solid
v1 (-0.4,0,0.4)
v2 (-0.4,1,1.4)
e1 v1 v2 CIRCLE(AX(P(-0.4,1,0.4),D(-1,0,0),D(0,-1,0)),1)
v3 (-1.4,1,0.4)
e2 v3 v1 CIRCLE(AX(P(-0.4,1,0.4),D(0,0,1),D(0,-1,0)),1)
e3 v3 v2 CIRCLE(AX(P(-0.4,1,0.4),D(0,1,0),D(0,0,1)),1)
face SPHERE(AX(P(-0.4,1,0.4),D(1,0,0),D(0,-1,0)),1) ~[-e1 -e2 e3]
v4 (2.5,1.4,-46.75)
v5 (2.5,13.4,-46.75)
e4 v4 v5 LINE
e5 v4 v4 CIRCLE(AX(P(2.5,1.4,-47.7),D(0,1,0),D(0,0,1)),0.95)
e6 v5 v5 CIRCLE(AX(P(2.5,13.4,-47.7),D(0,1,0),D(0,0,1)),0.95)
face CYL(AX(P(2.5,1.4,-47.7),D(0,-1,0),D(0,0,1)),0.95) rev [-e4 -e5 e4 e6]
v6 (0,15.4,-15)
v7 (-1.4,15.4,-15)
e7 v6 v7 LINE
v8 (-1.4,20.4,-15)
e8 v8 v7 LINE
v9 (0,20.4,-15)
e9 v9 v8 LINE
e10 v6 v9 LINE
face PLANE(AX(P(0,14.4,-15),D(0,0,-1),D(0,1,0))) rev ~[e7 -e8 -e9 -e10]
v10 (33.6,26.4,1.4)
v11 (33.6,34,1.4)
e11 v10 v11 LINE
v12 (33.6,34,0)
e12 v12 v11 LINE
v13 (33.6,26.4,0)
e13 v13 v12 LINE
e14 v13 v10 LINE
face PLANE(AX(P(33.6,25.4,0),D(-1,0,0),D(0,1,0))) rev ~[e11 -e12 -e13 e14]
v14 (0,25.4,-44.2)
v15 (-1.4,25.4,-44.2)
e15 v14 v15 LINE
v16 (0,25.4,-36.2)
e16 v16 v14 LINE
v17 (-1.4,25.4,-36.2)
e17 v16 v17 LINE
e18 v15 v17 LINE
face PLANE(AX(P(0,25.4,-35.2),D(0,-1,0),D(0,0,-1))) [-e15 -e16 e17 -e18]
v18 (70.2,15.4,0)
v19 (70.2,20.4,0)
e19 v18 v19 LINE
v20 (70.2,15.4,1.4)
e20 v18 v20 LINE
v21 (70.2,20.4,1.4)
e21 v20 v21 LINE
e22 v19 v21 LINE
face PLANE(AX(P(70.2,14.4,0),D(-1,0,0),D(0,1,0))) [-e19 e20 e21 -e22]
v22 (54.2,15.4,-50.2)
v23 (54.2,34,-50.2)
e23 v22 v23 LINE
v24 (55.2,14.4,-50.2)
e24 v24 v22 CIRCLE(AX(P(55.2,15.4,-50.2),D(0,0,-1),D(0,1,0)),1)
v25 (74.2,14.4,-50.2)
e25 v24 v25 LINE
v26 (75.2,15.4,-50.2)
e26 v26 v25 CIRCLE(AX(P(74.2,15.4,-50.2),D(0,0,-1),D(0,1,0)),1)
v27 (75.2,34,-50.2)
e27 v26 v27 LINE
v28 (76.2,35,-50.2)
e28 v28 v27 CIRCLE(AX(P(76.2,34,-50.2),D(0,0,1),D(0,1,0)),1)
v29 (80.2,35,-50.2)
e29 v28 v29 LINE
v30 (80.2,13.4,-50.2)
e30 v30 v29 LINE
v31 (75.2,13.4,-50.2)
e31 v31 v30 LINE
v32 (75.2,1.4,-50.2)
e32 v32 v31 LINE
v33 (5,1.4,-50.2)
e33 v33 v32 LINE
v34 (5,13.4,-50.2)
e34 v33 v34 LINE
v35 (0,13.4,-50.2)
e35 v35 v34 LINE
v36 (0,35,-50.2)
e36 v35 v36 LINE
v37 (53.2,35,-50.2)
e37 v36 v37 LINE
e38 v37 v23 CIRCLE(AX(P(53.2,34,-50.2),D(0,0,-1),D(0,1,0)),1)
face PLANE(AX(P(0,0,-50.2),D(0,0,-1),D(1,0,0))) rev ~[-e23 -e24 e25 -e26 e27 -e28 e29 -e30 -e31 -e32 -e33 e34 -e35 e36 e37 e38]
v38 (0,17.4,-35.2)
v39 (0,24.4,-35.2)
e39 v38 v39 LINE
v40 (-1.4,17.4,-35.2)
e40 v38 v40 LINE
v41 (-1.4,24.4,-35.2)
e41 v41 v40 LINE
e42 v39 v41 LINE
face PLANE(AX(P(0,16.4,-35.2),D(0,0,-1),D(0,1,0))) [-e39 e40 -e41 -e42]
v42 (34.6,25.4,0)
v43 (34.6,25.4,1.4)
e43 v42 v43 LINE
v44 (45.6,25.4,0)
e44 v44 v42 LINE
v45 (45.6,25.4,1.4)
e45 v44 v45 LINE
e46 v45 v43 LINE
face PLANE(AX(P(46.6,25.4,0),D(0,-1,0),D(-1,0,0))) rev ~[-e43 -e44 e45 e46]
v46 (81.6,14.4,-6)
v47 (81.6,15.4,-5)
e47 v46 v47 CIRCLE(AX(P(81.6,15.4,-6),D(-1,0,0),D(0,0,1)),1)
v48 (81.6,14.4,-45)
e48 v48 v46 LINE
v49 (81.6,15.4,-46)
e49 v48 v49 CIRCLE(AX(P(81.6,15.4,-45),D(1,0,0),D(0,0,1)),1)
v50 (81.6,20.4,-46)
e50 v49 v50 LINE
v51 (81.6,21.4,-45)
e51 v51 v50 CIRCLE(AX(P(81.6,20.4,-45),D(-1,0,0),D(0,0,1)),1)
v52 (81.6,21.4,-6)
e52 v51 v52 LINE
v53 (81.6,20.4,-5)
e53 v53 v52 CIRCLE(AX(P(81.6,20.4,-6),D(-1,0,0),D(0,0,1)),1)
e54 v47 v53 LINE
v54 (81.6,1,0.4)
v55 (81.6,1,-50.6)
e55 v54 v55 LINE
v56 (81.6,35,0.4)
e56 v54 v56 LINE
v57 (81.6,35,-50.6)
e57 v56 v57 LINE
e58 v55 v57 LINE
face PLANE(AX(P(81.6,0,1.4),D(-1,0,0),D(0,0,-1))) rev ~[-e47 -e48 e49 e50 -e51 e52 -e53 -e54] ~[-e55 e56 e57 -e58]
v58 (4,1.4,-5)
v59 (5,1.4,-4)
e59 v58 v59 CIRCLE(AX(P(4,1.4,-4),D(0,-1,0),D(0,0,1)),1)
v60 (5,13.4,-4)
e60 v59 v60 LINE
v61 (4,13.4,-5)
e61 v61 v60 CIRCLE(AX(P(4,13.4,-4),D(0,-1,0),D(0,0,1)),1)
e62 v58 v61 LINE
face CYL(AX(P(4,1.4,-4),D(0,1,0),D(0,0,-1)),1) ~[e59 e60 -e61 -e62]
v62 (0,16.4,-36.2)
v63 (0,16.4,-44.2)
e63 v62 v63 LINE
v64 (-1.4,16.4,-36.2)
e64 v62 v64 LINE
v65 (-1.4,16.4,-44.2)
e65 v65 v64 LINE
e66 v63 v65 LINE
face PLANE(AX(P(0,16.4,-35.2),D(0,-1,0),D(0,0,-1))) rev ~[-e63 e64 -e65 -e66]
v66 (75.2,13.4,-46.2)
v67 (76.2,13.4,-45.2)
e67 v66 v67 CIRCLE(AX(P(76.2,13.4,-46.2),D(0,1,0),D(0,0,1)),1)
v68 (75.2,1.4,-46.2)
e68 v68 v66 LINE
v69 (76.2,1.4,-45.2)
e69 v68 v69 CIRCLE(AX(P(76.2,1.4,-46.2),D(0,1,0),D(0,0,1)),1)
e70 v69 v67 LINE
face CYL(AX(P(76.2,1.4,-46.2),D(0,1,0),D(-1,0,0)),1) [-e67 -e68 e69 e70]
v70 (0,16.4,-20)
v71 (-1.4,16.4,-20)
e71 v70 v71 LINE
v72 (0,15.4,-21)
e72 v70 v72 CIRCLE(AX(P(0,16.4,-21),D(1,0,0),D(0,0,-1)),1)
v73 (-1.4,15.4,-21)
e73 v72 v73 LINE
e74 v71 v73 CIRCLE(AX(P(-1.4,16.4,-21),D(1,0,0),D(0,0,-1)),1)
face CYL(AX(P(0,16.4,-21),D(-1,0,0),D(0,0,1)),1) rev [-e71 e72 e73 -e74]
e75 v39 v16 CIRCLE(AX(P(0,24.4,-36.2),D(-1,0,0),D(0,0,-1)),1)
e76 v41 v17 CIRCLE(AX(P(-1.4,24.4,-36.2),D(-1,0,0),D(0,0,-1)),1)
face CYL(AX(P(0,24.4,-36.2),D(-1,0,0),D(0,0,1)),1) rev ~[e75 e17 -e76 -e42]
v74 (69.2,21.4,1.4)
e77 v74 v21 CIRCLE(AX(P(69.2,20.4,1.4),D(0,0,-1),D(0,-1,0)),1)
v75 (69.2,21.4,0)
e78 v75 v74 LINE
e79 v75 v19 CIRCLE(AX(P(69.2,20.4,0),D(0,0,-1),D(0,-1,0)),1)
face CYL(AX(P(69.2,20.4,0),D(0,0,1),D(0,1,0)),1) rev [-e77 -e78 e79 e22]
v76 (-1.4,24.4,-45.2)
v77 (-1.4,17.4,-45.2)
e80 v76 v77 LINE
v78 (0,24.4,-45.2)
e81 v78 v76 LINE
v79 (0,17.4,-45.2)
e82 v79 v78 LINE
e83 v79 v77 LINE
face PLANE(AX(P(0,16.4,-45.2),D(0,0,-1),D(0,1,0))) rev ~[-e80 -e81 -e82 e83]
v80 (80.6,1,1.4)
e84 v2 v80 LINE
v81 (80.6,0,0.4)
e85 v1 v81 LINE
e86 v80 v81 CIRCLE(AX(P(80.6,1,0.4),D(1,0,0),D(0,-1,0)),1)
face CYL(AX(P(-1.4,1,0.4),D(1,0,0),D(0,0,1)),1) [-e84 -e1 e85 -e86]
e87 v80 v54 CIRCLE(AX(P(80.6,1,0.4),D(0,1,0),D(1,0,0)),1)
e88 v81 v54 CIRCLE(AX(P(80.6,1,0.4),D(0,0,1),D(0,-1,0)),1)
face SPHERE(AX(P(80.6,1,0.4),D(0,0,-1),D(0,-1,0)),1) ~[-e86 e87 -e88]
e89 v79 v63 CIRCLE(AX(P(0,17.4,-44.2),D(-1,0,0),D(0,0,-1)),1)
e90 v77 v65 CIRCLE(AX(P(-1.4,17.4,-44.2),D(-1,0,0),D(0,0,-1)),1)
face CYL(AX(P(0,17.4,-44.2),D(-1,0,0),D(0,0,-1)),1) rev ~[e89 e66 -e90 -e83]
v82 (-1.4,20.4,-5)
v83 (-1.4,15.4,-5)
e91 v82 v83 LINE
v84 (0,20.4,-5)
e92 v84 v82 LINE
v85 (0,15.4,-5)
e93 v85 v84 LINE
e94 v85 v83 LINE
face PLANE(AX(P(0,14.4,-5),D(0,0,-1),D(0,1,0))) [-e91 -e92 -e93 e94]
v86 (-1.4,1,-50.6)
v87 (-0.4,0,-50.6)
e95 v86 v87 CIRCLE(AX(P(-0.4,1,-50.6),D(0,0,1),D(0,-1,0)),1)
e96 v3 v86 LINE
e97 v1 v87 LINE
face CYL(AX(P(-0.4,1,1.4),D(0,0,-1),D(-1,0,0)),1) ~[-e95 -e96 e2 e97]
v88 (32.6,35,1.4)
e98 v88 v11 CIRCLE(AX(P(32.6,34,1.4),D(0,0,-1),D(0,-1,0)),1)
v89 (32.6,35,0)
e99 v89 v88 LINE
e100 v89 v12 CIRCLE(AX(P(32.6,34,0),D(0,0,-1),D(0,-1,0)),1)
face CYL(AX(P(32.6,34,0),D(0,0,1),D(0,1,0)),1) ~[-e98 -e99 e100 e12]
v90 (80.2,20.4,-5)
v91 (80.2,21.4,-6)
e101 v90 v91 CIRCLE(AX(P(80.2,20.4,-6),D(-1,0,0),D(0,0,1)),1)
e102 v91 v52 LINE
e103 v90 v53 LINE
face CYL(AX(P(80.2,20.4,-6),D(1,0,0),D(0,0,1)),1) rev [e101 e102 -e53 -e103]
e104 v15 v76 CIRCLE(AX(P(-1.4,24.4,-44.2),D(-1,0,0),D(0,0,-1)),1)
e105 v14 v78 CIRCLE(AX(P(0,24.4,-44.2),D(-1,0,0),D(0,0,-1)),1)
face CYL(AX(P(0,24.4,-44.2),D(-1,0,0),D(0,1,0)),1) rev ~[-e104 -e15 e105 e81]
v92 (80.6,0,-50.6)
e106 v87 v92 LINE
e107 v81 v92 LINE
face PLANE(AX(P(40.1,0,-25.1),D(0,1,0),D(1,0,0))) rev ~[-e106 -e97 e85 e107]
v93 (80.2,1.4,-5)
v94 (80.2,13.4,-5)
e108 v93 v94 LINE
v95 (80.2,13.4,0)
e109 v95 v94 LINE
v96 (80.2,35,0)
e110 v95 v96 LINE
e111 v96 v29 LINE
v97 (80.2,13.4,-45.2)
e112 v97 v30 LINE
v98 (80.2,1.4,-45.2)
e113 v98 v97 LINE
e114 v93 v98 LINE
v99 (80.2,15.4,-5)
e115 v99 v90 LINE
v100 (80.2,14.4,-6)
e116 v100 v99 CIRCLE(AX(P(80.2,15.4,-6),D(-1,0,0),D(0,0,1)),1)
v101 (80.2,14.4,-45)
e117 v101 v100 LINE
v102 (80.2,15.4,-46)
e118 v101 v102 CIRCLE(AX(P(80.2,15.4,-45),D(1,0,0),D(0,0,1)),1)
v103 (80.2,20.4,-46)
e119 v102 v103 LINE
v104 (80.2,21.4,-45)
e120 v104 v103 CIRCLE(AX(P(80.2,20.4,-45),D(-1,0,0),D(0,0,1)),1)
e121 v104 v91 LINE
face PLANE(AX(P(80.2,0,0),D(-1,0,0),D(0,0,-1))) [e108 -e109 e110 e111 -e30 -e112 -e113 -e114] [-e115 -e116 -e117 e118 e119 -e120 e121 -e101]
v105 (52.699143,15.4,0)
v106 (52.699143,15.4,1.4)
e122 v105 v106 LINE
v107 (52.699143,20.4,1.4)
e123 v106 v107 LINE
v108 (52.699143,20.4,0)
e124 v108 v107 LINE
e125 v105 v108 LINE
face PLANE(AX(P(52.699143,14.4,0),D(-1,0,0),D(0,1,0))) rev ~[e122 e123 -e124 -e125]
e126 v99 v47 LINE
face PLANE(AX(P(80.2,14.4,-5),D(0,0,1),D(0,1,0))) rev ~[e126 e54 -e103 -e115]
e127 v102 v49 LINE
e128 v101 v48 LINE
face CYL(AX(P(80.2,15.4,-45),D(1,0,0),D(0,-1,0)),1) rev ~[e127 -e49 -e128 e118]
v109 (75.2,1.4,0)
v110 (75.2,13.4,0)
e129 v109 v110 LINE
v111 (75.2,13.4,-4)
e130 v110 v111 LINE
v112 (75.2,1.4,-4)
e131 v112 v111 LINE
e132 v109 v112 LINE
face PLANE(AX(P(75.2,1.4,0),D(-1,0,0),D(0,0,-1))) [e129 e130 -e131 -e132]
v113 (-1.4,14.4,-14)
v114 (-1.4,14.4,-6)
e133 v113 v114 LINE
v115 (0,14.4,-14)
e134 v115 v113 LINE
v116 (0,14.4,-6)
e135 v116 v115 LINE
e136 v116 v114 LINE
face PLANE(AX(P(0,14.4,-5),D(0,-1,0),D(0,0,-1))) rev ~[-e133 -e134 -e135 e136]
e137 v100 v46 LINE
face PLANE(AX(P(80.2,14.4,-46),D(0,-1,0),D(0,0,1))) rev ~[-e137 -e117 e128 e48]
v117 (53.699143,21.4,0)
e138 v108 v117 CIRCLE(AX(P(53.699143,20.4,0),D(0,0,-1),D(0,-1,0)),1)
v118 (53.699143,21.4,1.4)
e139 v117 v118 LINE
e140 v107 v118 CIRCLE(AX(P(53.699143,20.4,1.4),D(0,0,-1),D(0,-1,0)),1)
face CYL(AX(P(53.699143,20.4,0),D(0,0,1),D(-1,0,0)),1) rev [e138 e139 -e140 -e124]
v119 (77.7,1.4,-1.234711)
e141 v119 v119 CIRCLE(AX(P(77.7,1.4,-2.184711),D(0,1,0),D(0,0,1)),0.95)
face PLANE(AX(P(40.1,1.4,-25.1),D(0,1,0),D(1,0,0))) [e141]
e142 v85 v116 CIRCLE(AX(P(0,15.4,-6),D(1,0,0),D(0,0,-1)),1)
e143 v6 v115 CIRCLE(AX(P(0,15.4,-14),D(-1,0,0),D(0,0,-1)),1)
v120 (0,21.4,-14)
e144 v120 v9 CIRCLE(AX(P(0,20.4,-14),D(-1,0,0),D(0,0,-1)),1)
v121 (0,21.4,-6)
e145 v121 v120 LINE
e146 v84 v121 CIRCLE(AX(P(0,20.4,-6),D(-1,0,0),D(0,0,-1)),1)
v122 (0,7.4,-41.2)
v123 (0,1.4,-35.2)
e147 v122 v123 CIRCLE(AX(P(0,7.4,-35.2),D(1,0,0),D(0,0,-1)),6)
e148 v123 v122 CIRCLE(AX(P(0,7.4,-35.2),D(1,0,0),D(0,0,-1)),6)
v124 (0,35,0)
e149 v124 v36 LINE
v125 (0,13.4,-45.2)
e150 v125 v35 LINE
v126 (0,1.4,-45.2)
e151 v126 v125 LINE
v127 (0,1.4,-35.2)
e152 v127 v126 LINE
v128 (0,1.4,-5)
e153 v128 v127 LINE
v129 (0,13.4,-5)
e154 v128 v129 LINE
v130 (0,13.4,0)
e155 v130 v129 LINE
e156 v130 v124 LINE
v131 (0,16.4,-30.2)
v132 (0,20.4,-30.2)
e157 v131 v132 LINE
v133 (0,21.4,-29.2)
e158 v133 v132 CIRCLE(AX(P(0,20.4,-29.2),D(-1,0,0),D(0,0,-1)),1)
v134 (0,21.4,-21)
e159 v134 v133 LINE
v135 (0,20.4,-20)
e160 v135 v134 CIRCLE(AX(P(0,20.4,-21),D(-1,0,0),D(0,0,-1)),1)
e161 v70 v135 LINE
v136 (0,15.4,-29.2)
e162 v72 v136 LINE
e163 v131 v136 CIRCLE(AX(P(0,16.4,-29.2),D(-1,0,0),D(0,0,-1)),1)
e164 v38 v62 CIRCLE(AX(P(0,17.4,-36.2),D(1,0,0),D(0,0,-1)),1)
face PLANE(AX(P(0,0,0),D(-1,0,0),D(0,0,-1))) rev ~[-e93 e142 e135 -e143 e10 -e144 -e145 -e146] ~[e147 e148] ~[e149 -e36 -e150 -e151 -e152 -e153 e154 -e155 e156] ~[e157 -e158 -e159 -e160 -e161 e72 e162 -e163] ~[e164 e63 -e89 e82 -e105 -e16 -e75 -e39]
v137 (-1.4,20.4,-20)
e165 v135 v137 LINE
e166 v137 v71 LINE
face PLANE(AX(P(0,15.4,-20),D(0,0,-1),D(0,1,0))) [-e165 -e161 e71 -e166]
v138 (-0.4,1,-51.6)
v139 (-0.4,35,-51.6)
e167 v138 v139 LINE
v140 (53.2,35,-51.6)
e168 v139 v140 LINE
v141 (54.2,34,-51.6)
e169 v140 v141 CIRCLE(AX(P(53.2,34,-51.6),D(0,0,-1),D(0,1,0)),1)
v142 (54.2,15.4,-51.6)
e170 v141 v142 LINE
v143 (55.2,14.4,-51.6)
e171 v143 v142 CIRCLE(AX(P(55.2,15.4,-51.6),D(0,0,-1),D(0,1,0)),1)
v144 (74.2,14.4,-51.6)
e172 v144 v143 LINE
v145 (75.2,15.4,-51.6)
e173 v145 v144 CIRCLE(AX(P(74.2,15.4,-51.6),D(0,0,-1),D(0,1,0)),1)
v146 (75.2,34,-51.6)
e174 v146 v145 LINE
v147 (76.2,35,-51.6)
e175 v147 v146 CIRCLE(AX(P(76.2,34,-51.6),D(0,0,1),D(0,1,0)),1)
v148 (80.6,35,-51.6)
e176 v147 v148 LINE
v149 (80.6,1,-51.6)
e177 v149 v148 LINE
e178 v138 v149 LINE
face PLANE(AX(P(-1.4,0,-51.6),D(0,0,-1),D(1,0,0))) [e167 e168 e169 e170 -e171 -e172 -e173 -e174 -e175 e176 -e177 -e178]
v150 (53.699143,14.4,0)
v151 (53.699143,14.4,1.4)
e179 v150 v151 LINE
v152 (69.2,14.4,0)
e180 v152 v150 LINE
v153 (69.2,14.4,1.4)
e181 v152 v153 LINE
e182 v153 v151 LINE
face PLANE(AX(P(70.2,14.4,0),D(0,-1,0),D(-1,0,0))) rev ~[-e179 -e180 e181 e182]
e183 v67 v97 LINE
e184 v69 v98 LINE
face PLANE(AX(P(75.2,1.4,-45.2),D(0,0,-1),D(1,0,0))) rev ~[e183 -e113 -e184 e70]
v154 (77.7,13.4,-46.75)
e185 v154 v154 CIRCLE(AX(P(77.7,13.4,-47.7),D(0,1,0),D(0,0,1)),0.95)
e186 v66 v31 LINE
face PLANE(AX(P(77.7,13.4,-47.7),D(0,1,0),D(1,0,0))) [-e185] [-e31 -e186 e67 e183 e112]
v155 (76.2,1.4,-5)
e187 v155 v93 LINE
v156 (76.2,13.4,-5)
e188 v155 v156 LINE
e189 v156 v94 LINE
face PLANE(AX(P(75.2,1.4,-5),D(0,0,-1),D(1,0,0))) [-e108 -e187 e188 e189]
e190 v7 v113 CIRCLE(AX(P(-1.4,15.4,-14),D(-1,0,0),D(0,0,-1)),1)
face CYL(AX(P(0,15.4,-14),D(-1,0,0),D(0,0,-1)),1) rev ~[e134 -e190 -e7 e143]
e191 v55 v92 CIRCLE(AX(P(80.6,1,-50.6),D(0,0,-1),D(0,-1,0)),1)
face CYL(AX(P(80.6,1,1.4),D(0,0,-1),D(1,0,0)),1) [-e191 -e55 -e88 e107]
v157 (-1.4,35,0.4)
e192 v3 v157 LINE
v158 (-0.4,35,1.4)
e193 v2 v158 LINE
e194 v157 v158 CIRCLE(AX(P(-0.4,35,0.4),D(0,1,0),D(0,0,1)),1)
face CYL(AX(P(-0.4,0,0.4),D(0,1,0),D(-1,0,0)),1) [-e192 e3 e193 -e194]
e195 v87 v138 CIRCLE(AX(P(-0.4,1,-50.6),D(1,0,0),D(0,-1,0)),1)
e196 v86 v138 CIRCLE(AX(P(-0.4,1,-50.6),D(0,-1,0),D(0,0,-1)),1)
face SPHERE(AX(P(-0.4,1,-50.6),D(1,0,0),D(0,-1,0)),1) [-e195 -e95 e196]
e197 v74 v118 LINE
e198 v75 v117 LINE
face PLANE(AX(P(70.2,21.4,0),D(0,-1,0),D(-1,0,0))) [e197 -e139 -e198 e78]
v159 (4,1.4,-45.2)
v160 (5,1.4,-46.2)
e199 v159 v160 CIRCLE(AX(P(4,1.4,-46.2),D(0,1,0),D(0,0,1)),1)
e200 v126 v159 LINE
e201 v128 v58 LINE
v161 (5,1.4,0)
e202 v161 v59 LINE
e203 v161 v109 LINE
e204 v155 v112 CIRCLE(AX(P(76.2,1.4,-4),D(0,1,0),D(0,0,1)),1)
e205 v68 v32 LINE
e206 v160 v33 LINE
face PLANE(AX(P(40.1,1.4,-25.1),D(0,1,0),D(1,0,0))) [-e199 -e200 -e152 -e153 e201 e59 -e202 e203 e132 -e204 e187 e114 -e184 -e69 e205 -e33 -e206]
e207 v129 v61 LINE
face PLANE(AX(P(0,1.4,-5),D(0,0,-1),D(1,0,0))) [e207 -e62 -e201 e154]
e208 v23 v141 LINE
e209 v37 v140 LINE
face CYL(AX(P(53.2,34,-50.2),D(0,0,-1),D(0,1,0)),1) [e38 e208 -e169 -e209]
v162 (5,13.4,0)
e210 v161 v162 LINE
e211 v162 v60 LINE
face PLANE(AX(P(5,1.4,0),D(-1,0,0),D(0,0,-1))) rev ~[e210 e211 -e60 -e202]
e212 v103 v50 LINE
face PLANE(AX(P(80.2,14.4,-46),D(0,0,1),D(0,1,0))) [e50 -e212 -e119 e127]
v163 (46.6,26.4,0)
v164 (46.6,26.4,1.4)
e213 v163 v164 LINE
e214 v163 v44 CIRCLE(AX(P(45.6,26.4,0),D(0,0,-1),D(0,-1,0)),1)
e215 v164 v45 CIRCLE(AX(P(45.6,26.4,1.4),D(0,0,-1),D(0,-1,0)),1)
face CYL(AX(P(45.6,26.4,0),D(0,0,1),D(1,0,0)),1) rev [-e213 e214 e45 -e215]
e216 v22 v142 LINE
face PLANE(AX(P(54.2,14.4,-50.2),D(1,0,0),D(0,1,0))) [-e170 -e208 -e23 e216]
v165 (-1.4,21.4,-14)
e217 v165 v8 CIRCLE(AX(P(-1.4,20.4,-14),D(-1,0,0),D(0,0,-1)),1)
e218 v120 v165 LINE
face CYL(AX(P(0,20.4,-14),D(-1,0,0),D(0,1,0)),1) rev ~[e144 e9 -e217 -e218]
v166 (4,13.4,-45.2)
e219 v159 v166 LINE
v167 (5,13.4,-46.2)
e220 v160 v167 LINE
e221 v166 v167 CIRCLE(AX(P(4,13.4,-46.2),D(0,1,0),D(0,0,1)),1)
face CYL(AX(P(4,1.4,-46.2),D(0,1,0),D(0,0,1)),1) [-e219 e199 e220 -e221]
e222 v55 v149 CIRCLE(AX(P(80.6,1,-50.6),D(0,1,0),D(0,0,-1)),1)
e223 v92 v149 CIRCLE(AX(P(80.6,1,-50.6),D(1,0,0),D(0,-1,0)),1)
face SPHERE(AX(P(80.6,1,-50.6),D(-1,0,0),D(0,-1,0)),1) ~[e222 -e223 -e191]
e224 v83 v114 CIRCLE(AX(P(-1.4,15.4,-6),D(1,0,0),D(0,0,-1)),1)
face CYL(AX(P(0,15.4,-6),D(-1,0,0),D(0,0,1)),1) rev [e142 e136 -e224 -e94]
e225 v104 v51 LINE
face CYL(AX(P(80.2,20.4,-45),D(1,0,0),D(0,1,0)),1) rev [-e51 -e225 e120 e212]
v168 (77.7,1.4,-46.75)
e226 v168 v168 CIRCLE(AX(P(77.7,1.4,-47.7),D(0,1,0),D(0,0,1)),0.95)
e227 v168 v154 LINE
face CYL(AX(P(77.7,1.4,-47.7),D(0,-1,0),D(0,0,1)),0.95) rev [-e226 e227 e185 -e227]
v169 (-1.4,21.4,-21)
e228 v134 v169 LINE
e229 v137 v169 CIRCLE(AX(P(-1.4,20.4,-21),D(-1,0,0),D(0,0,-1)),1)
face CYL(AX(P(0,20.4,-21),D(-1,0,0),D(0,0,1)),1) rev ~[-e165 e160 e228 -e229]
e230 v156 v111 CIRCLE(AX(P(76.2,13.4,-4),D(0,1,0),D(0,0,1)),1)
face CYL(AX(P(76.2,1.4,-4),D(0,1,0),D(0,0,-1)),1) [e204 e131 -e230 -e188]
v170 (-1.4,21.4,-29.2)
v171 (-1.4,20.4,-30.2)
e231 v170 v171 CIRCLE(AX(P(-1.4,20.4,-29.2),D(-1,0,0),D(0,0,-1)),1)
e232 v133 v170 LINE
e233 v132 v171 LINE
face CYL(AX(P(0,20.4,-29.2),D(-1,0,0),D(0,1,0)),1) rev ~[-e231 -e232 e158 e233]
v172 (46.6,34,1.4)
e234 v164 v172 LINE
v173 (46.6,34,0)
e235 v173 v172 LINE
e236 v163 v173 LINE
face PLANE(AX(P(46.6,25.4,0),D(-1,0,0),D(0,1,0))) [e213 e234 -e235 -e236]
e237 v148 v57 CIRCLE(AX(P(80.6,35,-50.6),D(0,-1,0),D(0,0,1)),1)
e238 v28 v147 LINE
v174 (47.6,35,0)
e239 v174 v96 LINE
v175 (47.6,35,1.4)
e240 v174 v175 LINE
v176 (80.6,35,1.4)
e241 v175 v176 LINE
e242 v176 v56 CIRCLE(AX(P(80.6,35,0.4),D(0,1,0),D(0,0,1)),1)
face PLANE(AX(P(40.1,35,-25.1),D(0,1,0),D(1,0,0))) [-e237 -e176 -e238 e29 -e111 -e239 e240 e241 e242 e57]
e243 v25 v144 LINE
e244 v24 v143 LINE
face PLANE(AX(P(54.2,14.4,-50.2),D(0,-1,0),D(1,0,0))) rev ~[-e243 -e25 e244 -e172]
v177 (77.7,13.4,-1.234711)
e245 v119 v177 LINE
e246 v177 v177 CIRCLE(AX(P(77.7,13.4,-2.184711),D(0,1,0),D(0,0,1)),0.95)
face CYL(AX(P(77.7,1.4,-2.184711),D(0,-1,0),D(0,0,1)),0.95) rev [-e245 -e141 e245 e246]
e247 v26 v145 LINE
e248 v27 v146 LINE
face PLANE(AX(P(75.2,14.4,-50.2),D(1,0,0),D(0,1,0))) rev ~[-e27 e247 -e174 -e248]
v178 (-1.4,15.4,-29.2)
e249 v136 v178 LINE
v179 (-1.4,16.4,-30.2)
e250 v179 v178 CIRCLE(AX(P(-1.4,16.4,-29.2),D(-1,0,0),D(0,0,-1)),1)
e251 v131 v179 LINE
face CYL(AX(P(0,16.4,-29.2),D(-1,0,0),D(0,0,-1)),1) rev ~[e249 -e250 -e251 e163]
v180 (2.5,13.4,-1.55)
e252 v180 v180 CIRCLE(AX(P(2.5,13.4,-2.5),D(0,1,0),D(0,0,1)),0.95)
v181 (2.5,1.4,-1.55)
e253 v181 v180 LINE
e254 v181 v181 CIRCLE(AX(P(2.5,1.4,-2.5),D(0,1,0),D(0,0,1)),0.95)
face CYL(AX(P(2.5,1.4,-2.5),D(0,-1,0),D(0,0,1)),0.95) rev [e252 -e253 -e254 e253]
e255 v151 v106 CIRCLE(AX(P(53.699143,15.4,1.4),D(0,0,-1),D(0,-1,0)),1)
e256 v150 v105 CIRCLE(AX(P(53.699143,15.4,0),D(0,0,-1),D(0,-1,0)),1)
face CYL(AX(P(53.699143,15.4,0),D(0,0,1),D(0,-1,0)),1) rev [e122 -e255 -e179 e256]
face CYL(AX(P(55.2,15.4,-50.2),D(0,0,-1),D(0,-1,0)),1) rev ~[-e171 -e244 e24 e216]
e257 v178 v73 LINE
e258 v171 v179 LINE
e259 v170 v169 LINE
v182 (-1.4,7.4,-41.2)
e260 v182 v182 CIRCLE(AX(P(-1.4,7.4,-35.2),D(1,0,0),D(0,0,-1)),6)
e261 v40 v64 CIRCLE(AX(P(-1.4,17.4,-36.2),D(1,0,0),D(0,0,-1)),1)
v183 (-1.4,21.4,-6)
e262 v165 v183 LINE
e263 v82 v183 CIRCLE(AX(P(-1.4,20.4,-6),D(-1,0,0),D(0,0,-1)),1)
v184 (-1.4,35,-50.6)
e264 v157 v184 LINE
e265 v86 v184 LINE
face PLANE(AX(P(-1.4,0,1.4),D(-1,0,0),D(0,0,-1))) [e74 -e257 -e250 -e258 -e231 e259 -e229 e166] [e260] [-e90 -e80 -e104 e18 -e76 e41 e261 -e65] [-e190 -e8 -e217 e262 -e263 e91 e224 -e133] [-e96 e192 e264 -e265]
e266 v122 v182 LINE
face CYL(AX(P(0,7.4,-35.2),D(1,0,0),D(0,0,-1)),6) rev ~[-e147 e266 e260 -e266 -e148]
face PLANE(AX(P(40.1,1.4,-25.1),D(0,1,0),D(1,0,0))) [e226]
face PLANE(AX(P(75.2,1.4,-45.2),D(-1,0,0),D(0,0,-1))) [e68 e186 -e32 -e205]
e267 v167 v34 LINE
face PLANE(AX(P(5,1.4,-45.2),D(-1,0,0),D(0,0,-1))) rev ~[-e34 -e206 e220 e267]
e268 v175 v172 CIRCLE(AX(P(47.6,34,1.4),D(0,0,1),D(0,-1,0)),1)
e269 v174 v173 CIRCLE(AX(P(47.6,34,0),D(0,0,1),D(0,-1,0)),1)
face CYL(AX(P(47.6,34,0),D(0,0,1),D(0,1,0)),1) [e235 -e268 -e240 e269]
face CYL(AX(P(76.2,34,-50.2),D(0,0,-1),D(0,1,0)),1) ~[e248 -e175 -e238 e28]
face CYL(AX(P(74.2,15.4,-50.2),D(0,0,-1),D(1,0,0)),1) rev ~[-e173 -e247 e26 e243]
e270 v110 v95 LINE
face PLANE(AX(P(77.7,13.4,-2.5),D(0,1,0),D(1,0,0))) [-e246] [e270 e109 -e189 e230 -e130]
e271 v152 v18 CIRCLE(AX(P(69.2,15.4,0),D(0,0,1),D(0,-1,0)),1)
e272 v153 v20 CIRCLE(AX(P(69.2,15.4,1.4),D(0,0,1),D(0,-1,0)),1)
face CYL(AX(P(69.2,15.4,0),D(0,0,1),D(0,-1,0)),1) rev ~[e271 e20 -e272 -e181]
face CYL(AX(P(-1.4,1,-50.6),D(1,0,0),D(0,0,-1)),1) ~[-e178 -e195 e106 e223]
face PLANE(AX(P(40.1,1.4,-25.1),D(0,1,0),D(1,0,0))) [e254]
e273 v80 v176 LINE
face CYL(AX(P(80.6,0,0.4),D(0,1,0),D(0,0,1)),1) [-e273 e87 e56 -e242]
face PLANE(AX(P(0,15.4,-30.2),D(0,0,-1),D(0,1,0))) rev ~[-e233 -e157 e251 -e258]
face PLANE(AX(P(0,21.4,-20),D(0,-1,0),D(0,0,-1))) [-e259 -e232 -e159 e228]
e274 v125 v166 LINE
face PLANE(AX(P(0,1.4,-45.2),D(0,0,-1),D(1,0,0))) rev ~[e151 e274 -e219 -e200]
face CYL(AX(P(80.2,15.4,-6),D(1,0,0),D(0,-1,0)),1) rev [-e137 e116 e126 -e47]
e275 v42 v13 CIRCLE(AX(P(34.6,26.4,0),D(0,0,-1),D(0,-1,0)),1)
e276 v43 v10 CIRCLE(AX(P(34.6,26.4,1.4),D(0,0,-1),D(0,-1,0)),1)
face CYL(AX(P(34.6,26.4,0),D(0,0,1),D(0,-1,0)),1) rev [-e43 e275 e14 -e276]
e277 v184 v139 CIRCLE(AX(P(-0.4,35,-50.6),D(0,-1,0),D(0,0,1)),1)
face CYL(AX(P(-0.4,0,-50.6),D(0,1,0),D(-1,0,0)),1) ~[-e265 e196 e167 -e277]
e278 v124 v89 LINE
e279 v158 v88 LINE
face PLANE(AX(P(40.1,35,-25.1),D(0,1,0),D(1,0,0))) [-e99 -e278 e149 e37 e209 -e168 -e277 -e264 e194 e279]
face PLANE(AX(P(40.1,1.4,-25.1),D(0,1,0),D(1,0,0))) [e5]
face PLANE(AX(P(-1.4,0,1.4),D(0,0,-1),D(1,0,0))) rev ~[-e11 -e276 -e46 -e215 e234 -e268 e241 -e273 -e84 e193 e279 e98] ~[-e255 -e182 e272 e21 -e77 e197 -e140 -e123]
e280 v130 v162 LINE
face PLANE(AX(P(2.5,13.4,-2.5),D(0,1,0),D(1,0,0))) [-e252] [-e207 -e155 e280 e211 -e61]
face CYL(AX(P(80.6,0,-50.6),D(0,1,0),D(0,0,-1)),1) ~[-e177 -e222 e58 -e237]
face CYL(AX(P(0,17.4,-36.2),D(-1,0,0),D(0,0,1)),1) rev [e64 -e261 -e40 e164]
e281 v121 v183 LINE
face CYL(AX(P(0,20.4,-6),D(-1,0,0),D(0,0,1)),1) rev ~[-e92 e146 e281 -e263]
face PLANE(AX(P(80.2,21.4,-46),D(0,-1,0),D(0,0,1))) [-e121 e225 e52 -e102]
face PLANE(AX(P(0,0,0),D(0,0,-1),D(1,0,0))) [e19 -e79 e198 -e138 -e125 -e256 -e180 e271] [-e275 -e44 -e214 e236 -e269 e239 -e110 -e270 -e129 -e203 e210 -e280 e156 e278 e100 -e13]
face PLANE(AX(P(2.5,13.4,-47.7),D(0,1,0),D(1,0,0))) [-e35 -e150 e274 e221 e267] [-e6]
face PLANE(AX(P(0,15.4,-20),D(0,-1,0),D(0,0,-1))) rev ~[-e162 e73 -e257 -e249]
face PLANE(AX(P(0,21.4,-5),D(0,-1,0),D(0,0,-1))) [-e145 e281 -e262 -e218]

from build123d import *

# Parameters (mm, degrees)
SKETCH_1_W          = 83
SKETCH_1_H          = 53
SKETCH_1_W_2        = 80.2
SKETCH_1_H_2        = 50.2
EXTRUDE_1_DEPTH     = 35
SKETCH_3_W          = 80.2
SKETCH_3_H          = 50.2
EXTRUDE_2_DEPTH     = 1.4
SKETCH_4_W          = 5
SKETCH_4_H          = 5
SKETCH_4_R          = 0.95
EXTRUDE_3_DEPTH     = 12
SKETCH_5_W          = 41
SKETCH_5_H          = 7
CUT_EXTRUDE_1_DEPTH = 10
SKETCH_6_W          = 10
SKETCH_6_H          = 7
SKETCH_6_H_2        = 9
SKETCH_6_W_2        = 10.2
SKETCH_6_H_3        = 6
CUT_EXTRUDE_2_DEPTH = 10
SKETCH_8_W          = 21
SKETCH_8_H          = 21
CUT_EXTRUDE_4_DEPTH = 10
SKETCH_9_W          = 13
SKETCH_9_H          = 9.6
CUT_EXTRUDE_5_DEPTH = 10
FILLET_1_R          = 1
FILLET_2_R          = 1
SKETCH_11_W         = 17.500857193
SKETCH_11_H         = 7
CUT_EXTRUDE_7_DEPTH = 10
FILLET_5_R          = 1
SKETCH_13_R         = 6
CUT_EXTRUDE_8_DEPTH = 10
FILLET_6_R          = 1
FILLET_7_R          = 1


with BuildPart() as part:
    # 草图1 → 凸台-拉伸1 (new body)
    with BuildSketch(Plane(origin=(0, 0, 0), x_dir=(1, 0, 0), z_dir=(0, 1, 0))):
        with Locations((40.1, 25.1)):
            Rectangle(SKETCH_1_W, SKETCH_1_H)
        with Locations((40.1, 25.1)):
            Rectangle(SKETCH_1_W_2, SKETCH_1_H_2, mode=Mode.SUBTRACT)
    extrude(amount=EXTRUDE_1_DEPTH)

    # 草图3 → 凸台-拉伸2 (add)
    with BuildSketch(Plane(origin=(0, 0, 0), x_dir=(1, 0, 0), z_dir=(0, 1, 0))):
        with Locations((40.1, 25.1)):
            Rectangle(SKETCH_3_W, SKETCH_3_H)
    extrude(amount=EXTRUDE_2_DEPTH)

    # 草图4 → 凸台-拉伸3 (add)
    # profile 1 of 4: a face of its own
    with BuildSketch(Plane(origin=(0, 1.4, 0), x_dir=(1, 0, 0), z_dir=(0, 1, 0))):
        with Locations((2.5, 47.7)):
            Rectangle(SKETCH_4_W, SKETCH_4_H)
        with Locations(Location((2.5, 47.7, 0), (0, 0, 270))):
            Circle(SKETCH_4_R, mode=Mode.SUBTRACT)
    # profile 2 of 4: a face of its own
    with BuildSketch(Plane(origin=(0, 1.4, 0), x_dir=(1, 0, 0), z_dir=(0, 1, 0))):
        with Locations((2.5, 2.5)):
            Rectangle(SKETCH_4_W, SKETCH_4_H)
        with Locations(Location((2.5, 2.5, 0), (0, 0, 270))):
            Circle(SKETCH_4_R, mode=Mode.SUBTRACT)
    # profile 3 of 4: a face of its own
    with BuildSketch(Plane(origin=(0, 1.4, 0), x_dir=(1, 0, 0), z_dir=(0, 1, 0))):
        with Locations((77.7, 47.7)):
            Rectangle(SKETCH_4_W, SKETCH_4_H)
        with Locations(Location((77.7, 47.7, 0), (0, 0, 270))):
            Circle(SKETCH_4_R, mode=Mode.SUBTRACT)
    # profile 4 of 4: a face of its own
    with BuildSketch(Plane(origin=(0, 1.4, 0), x_dir=(1, 0, 0), z_dir=(0, 1, 0))):
        with Locations((77.7, 2.5)):
            Rectangle(SKETCH_4_W, SKETCH_4_H)
        with Locations(Location((77.7, 2.184711345, 0), (0, 0, 270))):
            Circle(SKETCH_4_R, mode=Mode.SUBTRACT)
    extrude(amount=EXTRUDE_3_DEPTH)

    # 草图5 → 切除-拉伸1 (cut)
    with BuildSketch(Plane.ZY.offset(-80.2)):
        with Locations((-25.5, 17.9)):
            Rectangle(SKETCH_5_W, SKETCH_5_H)
    extrude(amount=-CUT_EXTRUDE_1_DEPTH, mode=Mode.SUBTRACT)

    # 草图6 → 切除-拉伸2 (cut)
    with BuildSketch(Plane(origin=(0, 0, 0), x_dir=(0, 0, -1), z_dir=(1, 0, 0))):
        with Locations((10, 17.9)):
            Rectangle(SKETCH_6_W, SKETCH_6_H)
        with Locations((40.2, 20.9)):
            Rectangle(SKETCH_6_W, SKETCH_6_H_2)
        with Locations((25.1, 18.4)):
            Rectangle(SKETCH_6_W_2, SKETCH_6_H_3)
    extrude(amount=-CUT_EXTRUDE_2_DEPTH, mode=Mode.SUBTRACT)

    # 草图8 → 切除-拉伸4 (cut)
    with BuildSketch(Plane.XY.offset(-50.2)):
        with Locations((64.7, 24.9)):
            Rectangle(SKETCH_8_W, SKETCH_8_H)
    extrude(amount=-CUT_EXTRUDE_4_DEPTH, mode=Mode.SUBTRACT)

    # 草图9 → 切除-拉伸5 (cut)
    with BuildSketch(Plane(origin=(0, 0, 0), x_dir=(-1, 0, 0), z_dir=(0, 0, -1))):
        with Locations((-40.1, 30.2)):
            Rectangle(SKETCH_9_W, SKETCH_9_H)
    extrude(amount=-CUT_EXTRUDE_5_DEPTH, mode=Mode.SUBTRACT)

    # 圆角1
    fillet_1_edges = [part.edges().sort_by_distance(p)[0] for p in [
        (80.9, 21.4, -5),
        (80.9, 14.4, -5),
        (80.9, 14.4, -46),
        (80.9, 21.4, -46),
        (-0.7, 14.4, -5),
        (-0.7, 21.4, -5),
        (-0.7, 21.4, -15),
        (-0.7, 14.4, -15),
        (-0.7, 25.4, -45.2),
        (-0.7, 16.4, -45.2),
        (-0.7, 16.4, -35.2),
        (-0.7, 25.4, -35.2),
        (-0.7, 15.4, -20),
        (-0.7, 21.4, -20),
        (-0.7, 15.4, -30.2),
        (75.2, 14.4, -50.9),
        (54.2, 14.4, -50.9),
        (46.6, 25.4, 0.7),
        (33.6, 25.4, 0.7),
        (5, 7.4, -5),
        (5, 7.4, -45.2),
        (75.2, 7.4, -45.2),
        (75.2, 7.4, -5),
    ]]
    fillet(fillet_1_edges, radius=FILLET_1_R)

    # 圆角2
    fillet_2_edges = [part.edges().sort_by_distance(p)[0] for p in [
        (40.1, 0, -51.6),
        (81.6, 0, -25.1),
        (40.1, 0, 1.4),
        (-1.4, 0, -25.1),
        (-1.4, 17.5, -51.6),
        (81.6, 17.5, -51.6),
        (81.6, 17.5, 1.4),
        (-1.4, 17.5, 1.4),
    ]]
    fillet(fillet_2_edges, radius=FILLET_2_R)

    # 草图11 → 切除-拉伸7 (cut)
    with BuildSketch(Plane(origin=(0, 0, 0), x_dir=(-1, 0, 0), z_dir=(0, 0, -1))):
        with Locations((-61.449571404, 17.9)):
            Rectangle(SKETCH_11_W, SKETCH_11_H)
    extrude(amount=-CUT_EXTRUDE_7_DEPTH, mode=Mode.SUBTRACT)

    # 圆角5
    fillet_5_edges = [part.edges().sort_by_distance(p)[0] for p in [
        (70.2, 14.4, 0.7),
        (70.2, 21.4, 0.7),
        (52.699142807, 21.4, 0.7),
        (52.699142807, 14.4, 0.7),
    ]]
    fillet(fillet_5_edges, radius=FILLET_5_R)

    # 草图13 → 切除-拉伸8 (cut)
    with BuildSketch(Plane(origin=(0, 0, 0), x_dir=(0, 0, -1), z_dir=(1, 0, 0))):
        with Locations((35.2, 7.4)):
            Circle(SKETCH_13_R)
    extrude(amount=-CUT_EXTRUDE_8_DEPTH, mode=Mode.SUBTRACT)

    # 圆角6
    fillet_6_edges = [part.edges().sort_by_distance(p)[0] for p in [
        (-0.7, 21.4, -30.2),
    ]]
    fillet(fillet_6_edges, radius=FILLET_6_R)

    # 圆角7
    fillet_7_edges = [part.edges().sort_by_distance(p)[0] for p in [
        (75.2, 35, -50.9),
        (54.2, 35, -50.9),
        (46.6, 35, 0.7),
        (33.6, 35, 0.7),
    ]]
    fillet(fillet_7_edges, radius=FILLET_7_R)


solid = part.part
